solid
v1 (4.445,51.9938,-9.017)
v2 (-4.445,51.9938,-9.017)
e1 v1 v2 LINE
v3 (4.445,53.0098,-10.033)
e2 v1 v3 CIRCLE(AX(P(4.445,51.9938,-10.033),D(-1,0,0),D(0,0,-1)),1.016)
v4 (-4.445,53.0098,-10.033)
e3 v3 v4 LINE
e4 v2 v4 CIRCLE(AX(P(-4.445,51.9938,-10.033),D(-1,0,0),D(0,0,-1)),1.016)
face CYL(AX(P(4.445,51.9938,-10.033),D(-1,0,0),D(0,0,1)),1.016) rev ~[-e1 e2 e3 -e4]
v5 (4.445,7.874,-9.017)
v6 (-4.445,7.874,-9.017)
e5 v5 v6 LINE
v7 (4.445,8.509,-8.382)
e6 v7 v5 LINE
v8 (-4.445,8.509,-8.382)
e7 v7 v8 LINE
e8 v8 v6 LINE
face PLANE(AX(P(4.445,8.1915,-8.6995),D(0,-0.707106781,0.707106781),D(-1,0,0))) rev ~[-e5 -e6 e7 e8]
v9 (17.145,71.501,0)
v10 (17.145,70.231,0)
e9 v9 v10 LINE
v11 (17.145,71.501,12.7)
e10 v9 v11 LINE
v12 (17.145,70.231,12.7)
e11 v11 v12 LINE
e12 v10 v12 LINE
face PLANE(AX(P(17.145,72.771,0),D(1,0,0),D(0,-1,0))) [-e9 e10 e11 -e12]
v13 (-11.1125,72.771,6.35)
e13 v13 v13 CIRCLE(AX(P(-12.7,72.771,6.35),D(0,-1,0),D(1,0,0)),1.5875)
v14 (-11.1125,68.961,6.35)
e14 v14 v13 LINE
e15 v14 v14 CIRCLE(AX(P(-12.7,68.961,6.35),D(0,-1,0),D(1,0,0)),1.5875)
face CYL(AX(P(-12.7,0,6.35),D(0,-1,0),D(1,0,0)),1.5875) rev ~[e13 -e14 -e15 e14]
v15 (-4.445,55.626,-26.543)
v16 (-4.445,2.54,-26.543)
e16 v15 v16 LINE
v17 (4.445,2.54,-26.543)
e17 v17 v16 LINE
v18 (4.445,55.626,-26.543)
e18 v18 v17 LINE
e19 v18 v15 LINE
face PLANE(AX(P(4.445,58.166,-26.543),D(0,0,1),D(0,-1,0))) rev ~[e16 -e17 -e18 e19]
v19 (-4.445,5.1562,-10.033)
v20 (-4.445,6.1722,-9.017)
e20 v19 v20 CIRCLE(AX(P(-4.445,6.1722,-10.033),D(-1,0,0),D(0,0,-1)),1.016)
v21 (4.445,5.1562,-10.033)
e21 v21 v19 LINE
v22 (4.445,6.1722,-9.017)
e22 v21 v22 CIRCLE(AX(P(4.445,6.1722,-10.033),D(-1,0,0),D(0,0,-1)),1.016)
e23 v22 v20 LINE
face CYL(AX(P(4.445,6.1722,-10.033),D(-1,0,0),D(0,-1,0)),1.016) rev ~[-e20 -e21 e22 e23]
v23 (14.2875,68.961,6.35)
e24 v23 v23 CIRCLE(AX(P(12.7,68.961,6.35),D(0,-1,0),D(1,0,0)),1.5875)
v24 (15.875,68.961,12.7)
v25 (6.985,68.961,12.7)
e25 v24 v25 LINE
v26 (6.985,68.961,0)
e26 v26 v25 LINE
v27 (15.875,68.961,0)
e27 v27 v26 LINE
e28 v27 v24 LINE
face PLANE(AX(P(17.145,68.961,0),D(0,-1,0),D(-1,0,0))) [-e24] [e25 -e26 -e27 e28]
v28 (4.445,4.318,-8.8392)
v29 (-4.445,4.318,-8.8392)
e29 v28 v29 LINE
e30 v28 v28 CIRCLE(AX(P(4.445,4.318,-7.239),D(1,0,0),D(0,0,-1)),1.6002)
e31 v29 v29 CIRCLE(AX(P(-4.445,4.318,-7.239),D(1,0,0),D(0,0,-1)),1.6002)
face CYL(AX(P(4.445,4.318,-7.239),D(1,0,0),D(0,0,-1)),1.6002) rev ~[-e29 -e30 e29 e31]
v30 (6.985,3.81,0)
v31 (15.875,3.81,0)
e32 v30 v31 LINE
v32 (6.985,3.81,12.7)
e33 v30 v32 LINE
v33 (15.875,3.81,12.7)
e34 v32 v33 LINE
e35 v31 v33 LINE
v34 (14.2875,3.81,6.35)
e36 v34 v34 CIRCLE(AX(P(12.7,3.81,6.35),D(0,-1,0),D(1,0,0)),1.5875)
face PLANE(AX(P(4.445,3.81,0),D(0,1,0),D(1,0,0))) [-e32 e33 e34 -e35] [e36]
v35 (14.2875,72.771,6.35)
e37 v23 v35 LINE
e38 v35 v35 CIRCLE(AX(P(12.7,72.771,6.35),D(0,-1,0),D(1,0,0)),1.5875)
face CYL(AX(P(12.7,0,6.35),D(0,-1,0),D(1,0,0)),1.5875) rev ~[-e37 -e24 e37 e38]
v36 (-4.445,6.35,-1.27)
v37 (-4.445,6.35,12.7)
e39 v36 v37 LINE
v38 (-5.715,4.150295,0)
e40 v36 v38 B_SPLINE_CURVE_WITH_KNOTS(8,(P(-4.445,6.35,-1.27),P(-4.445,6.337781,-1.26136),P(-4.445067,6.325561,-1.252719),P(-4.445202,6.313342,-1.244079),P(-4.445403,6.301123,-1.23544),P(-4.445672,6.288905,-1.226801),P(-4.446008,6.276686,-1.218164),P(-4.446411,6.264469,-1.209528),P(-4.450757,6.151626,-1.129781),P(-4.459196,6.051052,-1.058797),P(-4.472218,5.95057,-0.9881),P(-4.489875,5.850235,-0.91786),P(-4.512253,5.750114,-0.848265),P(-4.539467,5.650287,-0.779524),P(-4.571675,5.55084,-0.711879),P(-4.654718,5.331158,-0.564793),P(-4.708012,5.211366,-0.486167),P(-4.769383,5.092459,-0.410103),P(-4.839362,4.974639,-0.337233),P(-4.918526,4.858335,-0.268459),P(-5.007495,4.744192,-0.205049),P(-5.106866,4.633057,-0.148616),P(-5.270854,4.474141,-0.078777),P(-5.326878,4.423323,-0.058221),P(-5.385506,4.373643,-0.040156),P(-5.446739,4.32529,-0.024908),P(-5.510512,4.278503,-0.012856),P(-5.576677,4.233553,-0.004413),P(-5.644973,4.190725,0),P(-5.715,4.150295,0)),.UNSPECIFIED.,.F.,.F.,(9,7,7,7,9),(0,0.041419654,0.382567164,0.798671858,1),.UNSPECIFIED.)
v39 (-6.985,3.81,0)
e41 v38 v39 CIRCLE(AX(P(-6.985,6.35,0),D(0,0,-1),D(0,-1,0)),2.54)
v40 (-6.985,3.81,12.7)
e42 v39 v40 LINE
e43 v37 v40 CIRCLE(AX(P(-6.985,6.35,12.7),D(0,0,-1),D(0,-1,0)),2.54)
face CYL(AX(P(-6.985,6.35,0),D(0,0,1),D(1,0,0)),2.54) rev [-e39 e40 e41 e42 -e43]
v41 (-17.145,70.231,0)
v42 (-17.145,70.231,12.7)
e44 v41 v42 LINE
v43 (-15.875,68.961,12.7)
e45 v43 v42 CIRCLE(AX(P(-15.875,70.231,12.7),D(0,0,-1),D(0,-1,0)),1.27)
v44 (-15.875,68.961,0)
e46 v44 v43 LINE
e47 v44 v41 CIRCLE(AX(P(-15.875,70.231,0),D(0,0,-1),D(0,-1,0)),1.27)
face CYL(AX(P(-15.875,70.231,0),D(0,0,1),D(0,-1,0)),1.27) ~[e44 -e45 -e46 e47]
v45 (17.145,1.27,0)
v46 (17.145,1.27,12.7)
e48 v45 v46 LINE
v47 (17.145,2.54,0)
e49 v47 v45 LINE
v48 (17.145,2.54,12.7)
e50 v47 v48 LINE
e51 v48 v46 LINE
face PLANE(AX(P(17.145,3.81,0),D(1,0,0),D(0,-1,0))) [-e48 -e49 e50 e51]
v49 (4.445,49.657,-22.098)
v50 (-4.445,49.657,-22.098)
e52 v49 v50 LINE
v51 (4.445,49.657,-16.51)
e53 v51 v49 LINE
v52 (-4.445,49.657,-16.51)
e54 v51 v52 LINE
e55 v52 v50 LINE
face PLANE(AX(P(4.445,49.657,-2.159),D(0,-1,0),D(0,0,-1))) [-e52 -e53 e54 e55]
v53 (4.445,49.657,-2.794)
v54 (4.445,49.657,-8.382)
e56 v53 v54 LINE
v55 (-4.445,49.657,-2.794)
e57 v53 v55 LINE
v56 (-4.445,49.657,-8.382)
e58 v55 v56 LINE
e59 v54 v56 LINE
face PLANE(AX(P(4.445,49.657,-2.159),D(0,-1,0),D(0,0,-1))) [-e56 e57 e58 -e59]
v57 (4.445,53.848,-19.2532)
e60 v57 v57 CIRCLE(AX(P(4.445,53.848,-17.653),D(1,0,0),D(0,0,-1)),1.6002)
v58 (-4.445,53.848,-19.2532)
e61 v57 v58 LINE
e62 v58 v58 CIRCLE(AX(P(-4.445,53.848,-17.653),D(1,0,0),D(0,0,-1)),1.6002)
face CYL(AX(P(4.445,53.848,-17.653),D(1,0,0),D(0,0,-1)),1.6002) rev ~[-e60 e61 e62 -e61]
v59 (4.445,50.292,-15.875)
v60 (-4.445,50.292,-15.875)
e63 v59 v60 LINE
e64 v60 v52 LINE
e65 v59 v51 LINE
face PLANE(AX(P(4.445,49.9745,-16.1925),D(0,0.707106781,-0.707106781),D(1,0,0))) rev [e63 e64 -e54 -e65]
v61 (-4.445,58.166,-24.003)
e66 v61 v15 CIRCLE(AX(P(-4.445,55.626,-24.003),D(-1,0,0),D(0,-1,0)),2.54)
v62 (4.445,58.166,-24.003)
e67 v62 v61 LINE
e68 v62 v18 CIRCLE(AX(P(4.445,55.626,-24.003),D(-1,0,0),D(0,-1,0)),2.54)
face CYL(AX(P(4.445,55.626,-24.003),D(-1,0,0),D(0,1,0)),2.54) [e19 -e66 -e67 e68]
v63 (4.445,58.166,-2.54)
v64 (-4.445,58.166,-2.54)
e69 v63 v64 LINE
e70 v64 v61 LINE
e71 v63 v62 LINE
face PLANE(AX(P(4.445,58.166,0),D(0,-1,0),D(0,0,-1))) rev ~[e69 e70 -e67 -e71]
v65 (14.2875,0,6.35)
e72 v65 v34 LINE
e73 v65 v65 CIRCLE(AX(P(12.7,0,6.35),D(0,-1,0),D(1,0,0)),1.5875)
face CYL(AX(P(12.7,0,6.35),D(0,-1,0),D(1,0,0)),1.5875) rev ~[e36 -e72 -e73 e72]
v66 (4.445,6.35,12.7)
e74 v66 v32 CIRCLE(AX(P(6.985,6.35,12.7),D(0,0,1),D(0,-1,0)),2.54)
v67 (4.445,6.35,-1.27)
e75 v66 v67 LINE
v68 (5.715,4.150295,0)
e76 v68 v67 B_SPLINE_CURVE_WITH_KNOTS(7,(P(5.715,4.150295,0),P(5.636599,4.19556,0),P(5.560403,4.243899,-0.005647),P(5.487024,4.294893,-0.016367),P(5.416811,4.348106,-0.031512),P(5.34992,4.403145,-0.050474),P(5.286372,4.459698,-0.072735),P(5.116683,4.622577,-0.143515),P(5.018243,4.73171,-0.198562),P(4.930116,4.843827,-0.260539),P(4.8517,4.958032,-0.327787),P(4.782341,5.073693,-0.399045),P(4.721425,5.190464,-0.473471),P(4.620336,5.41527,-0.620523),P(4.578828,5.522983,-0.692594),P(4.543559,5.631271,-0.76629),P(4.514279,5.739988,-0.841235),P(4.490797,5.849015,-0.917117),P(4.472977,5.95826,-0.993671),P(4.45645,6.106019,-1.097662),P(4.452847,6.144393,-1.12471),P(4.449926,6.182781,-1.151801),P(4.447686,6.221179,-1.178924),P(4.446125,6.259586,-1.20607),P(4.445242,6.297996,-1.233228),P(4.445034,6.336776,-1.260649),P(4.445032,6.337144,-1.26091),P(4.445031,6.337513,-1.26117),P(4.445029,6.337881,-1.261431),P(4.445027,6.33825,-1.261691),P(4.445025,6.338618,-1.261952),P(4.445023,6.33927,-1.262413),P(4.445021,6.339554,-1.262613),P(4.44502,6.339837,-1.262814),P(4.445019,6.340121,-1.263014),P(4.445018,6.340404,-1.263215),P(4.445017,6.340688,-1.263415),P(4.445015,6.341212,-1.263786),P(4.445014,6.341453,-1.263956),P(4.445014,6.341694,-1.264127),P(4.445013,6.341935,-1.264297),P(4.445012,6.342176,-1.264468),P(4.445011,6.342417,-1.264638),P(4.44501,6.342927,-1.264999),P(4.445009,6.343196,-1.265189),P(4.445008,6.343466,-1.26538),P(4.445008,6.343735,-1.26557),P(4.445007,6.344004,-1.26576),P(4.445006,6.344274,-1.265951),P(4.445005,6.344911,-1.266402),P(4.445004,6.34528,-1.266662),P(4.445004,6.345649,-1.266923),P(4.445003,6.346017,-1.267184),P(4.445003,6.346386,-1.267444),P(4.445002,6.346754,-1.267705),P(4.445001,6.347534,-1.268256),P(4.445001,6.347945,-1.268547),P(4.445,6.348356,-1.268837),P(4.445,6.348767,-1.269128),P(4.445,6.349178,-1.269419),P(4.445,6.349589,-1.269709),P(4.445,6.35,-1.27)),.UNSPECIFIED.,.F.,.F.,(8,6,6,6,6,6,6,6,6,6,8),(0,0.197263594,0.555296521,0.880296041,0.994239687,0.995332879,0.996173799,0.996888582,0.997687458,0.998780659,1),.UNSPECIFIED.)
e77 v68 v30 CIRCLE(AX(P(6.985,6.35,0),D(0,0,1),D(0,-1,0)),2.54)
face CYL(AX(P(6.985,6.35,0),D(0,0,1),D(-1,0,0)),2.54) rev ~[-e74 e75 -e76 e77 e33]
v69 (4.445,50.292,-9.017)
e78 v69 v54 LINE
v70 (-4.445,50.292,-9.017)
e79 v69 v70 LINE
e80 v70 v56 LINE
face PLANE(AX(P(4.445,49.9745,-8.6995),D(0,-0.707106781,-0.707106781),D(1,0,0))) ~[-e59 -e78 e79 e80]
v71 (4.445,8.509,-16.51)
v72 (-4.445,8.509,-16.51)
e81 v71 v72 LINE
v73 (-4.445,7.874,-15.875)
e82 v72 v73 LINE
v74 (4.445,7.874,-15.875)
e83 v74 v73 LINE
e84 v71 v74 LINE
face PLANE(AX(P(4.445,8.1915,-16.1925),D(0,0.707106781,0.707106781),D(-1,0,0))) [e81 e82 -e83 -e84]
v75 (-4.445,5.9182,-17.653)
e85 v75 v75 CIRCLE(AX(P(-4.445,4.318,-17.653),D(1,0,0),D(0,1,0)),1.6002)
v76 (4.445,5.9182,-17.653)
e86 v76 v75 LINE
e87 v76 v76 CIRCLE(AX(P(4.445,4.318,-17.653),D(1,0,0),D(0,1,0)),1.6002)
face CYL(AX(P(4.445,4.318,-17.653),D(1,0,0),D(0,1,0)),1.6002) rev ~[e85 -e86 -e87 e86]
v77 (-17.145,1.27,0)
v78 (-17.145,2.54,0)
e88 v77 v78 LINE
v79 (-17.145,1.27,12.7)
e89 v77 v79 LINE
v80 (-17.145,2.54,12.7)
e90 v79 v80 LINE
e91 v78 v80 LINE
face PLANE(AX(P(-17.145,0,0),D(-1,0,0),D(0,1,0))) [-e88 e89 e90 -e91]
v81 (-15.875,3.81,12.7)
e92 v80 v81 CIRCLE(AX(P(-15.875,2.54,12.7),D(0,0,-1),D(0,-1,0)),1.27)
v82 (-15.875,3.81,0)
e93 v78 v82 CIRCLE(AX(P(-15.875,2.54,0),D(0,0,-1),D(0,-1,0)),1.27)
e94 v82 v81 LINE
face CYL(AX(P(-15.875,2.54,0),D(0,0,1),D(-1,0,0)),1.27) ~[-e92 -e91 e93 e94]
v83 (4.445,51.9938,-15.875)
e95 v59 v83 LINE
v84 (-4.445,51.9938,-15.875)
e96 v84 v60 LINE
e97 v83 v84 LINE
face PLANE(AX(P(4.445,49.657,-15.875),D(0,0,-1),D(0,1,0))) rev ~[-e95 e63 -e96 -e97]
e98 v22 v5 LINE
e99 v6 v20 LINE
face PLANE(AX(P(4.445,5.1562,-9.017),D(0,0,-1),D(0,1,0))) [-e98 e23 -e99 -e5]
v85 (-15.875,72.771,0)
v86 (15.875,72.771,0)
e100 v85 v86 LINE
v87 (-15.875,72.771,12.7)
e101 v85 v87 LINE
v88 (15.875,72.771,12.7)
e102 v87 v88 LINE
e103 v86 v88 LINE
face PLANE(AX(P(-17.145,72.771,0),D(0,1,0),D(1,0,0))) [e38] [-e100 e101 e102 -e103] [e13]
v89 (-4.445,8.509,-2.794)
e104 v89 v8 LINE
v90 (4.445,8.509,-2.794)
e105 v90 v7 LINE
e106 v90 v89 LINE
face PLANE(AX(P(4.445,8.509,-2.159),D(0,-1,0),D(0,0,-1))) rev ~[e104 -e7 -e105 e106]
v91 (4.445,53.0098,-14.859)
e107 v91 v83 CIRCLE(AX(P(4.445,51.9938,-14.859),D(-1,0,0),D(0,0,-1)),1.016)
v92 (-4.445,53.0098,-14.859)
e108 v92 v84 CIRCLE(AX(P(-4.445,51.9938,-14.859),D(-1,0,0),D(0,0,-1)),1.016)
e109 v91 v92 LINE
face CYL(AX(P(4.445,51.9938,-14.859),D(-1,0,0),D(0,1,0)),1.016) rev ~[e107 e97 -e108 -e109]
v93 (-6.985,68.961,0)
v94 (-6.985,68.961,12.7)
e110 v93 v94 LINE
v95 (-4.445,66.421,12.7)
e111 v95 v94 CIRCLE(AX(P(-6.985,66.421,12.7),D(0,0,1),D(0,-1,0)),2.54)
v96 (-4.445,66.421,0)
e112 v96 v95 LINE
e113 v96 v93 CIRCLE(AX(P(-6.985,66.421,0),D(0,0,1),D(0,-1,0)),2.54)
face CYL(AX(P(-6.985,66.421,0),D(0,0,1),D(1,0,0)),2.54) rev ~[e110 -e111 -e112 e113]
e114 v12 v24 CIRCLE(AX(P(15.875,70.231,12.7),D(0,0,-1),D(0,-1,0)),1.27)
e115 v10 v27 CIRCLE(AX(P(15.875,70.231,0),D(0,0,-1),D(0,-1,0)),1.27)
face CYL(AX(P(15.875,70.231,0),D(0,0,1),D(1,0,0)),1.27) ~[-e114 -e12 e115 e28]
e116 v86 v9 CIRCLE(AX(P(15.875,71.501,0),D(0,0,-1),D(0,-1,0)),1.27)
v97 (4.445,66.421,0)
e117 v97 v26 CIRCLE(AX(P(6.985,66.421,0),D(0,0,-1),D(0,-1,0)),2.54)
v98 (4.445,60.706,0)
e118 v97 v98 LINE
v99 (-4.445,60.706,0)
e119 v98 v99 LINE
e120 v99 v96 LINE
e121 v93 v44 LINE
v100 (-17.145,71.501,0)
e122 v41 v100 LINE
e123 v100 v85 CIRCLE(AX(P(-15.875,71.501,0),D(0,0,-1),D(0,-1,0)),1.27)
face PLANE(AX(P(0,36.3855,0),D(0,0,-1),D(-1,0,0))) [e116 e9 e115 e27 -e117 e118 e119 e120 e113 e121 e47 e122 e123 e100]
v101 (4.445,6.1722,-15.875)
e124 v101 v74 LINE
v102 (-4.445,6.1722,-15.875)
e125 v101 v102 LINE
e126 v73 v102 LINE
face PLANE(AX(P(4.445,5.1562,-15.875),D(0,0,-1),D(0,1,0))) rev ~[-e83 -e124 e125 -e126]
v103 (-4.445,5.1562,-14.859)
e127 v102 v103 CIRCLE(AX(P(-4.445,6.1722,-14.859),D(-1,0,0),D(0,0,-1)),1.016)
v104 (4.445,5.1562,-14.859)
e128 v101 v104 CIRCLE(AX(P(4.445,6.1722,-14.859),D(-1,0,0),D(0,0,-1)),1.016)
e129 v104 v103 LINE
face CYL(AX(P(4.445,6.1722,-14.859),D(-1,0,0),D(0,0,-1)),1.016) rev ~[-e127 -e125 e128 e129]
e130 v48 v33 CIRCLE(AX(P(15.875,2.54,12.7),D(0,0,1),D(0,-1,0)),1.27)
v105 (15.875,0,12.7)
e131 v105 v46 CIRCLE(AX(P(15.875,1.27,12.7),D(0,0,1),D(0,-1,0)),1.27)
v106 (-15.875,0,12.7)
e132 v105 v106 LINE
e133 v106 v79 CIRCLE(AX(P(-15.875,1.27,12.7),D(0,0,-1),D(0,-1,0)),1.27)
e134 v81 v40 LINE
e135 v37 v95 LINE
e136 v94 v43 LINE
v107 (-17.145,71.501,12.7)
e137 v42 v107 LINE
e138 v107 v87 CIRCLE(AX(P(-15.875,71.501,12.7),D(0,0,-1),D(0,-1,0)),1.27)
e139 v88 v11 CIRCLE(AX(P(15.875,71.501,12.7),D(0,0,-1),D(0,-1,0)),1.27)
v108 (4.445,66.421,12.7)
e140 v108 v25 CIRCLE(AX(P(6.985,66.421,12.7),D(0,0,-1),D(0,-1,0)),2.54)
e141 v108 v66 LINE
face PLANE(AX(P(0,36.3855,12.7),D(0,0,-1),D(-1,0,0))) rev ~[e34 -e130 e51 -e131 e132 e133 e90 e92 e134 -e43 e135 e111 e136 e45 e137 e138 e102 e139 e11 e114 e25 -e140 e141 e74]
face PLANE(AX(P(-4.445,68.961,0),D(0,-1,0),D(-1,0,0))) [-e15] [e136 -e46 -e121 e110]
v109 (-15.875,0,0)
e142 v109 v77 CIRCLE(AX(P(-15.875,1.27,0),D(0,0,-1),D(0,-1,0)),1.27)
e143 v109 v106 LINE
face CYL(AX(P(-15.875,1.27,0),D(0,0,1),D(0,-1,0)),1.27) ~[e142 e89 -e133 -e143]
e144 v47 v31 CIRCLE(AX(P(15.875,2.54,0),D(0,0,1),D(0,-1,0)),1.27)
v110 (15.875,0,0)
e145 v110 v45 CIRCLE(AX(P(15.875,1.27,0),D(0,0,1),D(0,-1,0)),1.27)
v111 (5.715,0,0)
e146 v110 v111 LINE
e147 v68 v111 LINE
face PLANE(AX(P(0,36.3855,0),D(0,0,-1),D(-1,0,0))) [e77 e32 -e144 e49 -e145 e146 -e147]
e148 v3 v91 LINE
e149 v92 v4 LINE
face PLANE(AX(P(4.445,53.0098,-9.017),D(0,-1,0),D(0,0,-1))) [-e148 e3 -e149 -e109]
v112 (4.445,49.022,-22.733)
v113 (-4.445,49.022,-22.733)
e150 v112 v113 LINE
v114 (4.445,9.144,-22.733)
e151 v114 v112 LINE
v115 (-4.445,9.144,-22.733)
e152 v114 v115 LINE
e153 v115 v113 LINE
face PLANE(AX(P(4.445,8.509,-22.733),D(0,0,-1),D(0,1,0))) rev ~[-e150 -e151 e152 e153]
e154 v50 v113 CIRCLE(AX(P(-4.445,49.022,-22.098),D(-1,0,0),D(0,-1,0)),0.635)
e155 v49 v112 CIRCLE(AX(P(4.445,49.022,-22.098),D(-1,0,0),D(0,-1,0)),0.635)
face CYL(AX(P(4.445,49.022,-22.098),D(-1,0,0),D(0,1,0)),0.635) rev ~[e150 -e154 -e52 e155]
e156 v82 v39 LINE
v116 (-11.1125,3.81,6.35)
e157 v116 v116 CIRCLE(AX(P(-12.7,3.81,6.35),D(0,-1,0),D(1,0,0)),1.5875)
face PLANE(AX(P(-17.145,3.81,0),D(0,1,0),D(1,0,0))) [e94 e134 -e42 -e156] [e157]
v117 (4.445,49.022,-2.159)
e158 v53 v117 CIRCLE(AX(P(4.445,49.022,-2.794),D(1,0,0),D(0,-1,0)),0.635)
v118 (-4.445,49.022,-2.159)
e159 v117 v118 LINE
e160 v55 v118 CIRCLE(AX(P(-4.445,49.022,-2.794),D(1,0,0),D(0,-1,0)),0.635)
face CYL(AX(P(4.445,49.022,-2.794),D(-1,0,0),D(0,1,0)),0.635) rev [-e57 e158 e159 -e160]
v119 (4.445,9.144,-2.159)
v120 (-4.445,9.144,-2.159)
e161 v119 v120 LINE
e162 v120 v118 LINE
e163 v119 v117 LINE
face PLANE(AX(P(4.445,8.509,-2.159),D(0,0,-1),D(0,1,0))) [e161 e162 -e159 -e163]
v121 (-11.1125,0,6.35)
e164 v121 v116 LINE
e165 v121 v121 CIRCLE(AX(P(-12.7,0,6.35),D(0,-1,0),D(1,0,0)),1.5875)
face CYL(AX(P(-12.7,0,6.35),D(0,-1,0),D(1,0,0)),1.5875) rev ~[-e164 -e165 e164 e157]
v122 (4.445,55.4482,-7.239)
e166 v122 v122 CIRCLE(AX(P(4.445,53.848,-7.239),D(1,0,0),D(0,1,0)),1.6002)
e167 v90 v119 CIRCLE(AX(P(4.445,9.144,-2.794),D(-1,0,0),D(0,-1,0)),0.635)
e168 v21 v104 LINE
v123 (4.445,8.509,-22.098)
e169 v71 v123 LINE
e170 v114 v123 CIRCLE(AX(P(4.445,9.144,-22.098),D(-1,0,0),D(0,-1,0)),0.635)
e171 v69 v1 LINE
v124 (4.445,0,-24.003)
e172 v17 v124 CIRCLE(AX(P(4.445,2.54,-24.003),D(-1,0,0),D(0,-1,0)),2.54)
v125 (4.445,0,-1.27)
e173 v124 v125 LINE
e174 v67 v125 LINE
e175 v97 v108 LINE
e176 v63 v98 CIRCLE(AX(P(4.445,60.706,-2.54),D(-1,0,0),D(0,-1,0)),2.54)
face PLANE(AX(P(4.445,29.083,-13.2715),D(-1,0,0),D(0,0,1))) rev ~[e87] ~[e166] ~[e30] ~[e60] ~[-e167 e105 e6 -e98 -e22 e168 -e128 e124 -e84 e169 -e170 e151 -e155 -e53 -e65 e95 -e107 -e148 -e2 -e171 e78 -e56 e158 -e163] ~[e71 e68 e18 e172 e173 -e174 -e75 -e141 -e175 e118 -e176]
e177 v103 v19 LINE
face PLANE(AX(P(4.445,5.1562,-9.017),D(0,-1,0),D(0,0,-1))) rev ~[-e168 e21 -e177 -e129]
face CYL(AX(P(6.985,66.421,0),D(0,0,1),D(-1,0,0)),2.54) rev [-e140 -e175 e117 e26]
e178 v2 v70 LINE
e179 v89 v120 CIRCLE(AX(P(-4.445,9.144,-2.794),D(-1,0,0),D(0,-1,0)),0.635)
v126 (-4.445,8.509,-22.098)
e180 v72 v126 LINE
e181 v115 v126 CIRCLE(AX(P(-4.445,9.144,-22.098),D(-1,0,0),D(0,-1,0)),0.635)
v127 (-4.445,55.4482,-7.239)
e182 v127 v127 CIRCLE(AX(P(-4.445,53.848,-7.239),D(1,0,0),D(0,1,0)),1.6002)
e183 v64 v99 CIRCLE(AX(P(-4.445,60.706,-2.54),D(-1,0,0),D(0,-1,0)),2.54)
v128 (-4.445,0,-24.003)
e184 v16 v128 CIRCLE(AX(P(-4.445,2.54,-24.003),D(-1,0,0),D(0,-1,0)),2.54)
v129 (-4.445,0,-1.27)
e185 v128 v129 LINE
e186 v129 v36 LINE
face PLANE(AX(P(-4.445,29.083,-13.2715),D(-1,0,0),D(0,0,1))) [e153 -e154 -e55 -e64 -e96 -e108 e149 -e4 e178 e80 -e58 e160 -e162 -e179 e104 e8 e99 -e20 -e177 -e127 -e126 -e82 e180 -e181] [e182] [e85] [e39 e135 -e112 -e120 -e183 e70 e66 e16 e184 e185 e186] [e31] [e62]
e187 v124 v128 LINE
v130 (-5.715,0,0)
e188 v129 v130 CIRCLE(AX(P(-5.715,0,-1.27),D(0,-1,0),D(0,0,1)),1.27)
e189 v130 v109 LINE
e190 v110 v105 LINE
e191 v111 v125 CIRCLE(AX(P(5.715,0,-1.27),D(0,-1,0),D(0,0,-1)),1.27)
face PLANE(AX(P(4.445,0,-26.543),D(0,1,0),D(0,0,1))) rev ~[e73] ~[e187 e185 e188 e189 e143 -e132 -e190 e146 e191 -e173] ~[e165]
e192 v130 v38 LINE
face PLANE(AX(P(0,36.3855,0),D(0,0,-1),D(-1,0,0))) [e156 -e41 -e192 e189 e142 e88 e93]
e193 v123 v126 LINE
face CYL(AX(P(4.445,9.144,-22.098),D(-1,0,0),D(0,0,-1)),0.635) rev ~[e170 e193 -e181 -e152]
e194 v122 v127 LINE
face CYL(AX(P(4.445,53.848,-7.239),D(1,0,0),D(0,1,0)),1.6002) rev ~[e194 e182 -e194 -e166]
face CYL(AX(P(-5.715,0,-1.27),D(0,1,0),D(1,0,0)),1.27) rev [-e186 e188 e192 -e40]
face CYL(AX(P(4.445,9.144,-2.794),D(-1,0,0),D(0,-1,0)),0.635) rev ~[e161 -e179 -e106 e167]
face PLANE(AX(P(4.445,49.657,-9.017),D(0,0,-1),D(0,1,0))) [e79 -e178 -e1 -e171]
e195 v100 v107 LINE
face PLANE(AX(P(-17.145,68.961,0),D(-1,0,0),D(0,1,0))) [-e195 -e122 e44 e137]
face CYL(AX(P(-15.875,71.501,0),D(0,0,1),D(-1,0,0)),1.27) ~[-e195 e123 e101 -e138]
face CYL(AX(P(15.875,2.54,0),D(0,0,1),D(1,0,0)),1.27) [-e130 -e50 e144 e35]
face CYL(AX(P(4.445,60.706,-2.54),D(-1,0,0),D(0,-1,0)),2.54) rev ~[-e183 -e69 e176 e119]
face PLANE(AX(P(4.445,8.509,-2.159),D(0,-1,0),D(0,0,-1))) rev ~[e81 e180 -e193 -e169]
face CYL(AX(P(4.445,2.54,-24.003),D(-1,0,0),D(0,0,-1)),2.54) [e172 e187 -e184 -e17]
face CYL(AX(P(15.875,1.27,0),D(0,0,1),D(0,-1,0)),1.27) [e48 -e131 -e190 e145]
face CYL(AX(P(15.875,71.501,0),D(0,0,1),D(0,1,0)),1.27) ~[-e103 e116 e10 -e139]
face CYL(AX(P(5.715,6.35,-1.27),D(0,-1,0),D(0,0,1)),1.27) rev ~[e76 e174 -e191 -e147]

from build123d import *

# Parameters (mm, degrees)
FRAME_MOUNT_DEPTH         = 12.7
SKETCH3_R                 = 1.5875000000000008
SKETCH3_R_2               = 1.5875000000000024
MOUNT_HOLES_DEPTH         = 76.8344213797402
SKETCH4_W                 = 20.574
SKETCH4_H                 = 41.148
SERVO_MOUNT_FEATURE_DEPTH = 8.889999999999999
SKETCH5_R                 = 1.6001999999999992
SKETCH5_R_2               = 1.6001999999999998
SKETCH5_R_3               = 1.6002000000000005
SKETCH5_R_4               = 1.600200000000004
SERVO_MOUNT_HOLES_DEPTH   = 81.41316677012539
FILLET1_R                 = 2.54
FILLET2_R                 = 1.27
FILLET3_R                 = 0.635
FILLET4_R                 = 1.27
SKETCH6_W                 = 6.8580000000000005
SKETCH6_H                 = 3.352800000000009
SKETCH6_H_2               = 3.352800000000002
SERVOWIRE_GAP_DEPTH       = 81.41316677012539
FILLET5_R                 = 1.016
CHAMFER1_SIZE             = 0.635


with BuildPart() as part:
    # Sketch1 → Frame_Mount (new body)
    with BuildSketch(Plane.XY):
        Polygon((17.144999999999985, -4.04e-15), (-17.144999999999985, -4.04e-15), (-17.144999999999985, 3.809999999999992), (-4.444999999999985, 3.809999999999999), (-4.444999999999985, 68.96100000000001), (-17.144999999999985, 68.961), (-17.144999999999985, 72.77099999999999), (17.144999999999985, 72.77099999999999), (17.145000000000014, 68.961), (4.445000000000014, 68.961), (4.445000000000014, 3.809999999999999), (17.145000000000014, 3.8099999999999863), align=None)
    extrude(amount=FRAME_MOUNT_DEPTH)

    # Sketch3 → Mount_Holes (cut, through all)
    with BuildSketch(Plane.XZ):
        with Locations((12.7, 6.35)):
            Circle(SKETCH3_R)
        with Locations((-12.7, 6.35)):
            Circle(SKETCH3_R_2)
    extrude(amount=-MOUNT_HOLES_DEPTH, mode=Mode.SUBTRACT)

    # Sketch4 → Servo_Mount_Feature (add)
    with BuildSketch(Plane(origin=(4.445000000000014, 0, 0), x_dir=(0, 0, -1), z_dir=(1, 3.9e-16, 0))):
        Polygon((7.11e-15, 58.166000000000004), (26.543000000000006, 58.166), (26.543000000000006, -6.94e-15), (6.94e-15, -9.04e-15), align=None)
        with Locations((12.446000000000007, 29.082999999999995)):
            Rectangle(SKETCH4_W, SKETCH4_H, mode=Mode.SUBTRACT)
    extrude(amount=-SERVO_MOUNT_FEATURE_DEPTH)

    # Sketch5 → Servo_Mount_Holes (cut, through all)
    with BuildSketch(Plane(origin=(4.445000000000014, 0, 0), x_dir=(0, 0, -1), z_dir=(1, 3.9e-16, 0))):
        with Locations(Location((7.239000000000005, 53.84799999999999, 0), (0, 0, 90))):
            Circle(SKETCH5_R)
        with Locations((17.653000000000006, 53.84799999999999)):
            Circle(SKETCH5_R_2)
        with Locations(Location((17.653000000000006, 4.318000000000002, 0), (0, 0, 90))):
            Circle(SKETCH5_R_3)
        with Locations((7.239000000000006, 4.317999999999992)):
            Circle(SKETCH5_R_4)
    extrude(amount=-SERVO_MOUNT_HOLES_DEPTH, mode=Mode.SUBTRACT)

    # Fillet1
    fillet1_edges = [part.edges().sort_by_distance(p)[0] for p in [
        (-4.444999999999985, 3.809999999999999, 6.35),
        (-4.444999999999985, 68.96100000000001, 6.35),
        (4.445000000000014, 68.961, 6.35),
        (4.445000000000014, 3.809999999999999, 6.35),
        (-8.88e-15, 58.166000000000004, -7.11e-15),
        (-8.88e-15, 58.166, -26.543000000000006),
        (1.421e-14, -8.69e-15, -26.543000000000006),
    ]]
    fillet(fillet1_edges, radius=FILLET1_R)

    # Fillet2
    fillet2_edges = [part.edges().sort_by_distance(p)[0] for p in [
        (-4.444999999999986, 3.174999999999993, -3.47e-15),
        (4.445000000000013, 3.174999999999993, -3.47e-15),
    ]]
    fillet(fillet2_edges, radius=FILLET2_R)

    # Fillet3
    fillet3_edges = [part.edges().sort_by_distance(p)[0] for p in [
        (-5.33e-15, 49.65699999999999, -2.159000000000006),
        (-5.33e-15, 49.65699999999999, -22.733000000000008),
        (1.066e-14, 8.508999999999993, -22.733000000000008),
        (1.066e-14, 8.508999999999993, -2.159000000000006),
    ]]
    fillet(fillet3_edges, radius=FILLET3_R)

    # Fillet4
    fillet4_edges = [part.edges().sort_by_distance(p)[0] for p in [
        (-17.144999999999985, 3.809999999999992, 6.35),
        (-17.144999999999985, 68.961, 6.35),
        (-17.144999999999985, 72.77099999999999, 6.35),
        (17.144999999999985, 72.77099999999999, 6.35),
        (17.145000000000014, 68.961, 6.35),
        (17.145000000000014, 3.8099999999999863, 6.35),
        (17.144999999999985, -4.04e-15, 6.35),
        (-17.144999999999985, -4.04e-15, 6.35),
    ]]
    fillet(fillet4_edges, radius=FILLET4_R)

    # Sketch6 → ServoWire-Gap (cut, through all)
    with BuildSketch(Plane(origin=(4.445000000000014, 0, 0), x_dir=(0, 0, -1), z_dir=(1, 0, 0))):
        with Locations((12.446000000000007, 51.3334)):
            Rectangle(SKETCH6_W, SKETCH6_H)
        with Locations((12.446000000000007, 6.832599999999994)):
            Rectangle(SKETCH6_W, SKETCH6_H_2)
    extrude(amount=-SERVOWIRE_GAP_DEPTH, mode=Mode.SUBTRACT)

    # Fillet5
    fillet5_edges = [part.edges().sort_by_distance(p)[0] for p in [
        (3.55e-15, 53.009800000000006, -9.017000000000007),
        (3.55e-15, 53.009800000000006, -15.875000000000007),
        (1.332e-14, 5.156199999999993, -15.875000000000007),
        (1.332e-14, 5.156199999999993, -9.017000000000007),
    ]]
    fillet(fillet5_edges, radius=FILLET5_R)

    # Chamfer1
    chamfer1_edges = [part.edges().sort_by_distance(p)[0] for p in [
        (1.243e-14, 8.508999999999995, -9.017000000000007),
        (1.243e-14, 8.508999999999995, -15.875000000000007),
        (4.44e-15, 49.657, -9.017000000000007),
        (4.44e-15, 49.657, -15.875000000000007),
    ]]
    chamfer(chamfer1_edges, length=CHAMFER1_SIZE)


solid = part.part
